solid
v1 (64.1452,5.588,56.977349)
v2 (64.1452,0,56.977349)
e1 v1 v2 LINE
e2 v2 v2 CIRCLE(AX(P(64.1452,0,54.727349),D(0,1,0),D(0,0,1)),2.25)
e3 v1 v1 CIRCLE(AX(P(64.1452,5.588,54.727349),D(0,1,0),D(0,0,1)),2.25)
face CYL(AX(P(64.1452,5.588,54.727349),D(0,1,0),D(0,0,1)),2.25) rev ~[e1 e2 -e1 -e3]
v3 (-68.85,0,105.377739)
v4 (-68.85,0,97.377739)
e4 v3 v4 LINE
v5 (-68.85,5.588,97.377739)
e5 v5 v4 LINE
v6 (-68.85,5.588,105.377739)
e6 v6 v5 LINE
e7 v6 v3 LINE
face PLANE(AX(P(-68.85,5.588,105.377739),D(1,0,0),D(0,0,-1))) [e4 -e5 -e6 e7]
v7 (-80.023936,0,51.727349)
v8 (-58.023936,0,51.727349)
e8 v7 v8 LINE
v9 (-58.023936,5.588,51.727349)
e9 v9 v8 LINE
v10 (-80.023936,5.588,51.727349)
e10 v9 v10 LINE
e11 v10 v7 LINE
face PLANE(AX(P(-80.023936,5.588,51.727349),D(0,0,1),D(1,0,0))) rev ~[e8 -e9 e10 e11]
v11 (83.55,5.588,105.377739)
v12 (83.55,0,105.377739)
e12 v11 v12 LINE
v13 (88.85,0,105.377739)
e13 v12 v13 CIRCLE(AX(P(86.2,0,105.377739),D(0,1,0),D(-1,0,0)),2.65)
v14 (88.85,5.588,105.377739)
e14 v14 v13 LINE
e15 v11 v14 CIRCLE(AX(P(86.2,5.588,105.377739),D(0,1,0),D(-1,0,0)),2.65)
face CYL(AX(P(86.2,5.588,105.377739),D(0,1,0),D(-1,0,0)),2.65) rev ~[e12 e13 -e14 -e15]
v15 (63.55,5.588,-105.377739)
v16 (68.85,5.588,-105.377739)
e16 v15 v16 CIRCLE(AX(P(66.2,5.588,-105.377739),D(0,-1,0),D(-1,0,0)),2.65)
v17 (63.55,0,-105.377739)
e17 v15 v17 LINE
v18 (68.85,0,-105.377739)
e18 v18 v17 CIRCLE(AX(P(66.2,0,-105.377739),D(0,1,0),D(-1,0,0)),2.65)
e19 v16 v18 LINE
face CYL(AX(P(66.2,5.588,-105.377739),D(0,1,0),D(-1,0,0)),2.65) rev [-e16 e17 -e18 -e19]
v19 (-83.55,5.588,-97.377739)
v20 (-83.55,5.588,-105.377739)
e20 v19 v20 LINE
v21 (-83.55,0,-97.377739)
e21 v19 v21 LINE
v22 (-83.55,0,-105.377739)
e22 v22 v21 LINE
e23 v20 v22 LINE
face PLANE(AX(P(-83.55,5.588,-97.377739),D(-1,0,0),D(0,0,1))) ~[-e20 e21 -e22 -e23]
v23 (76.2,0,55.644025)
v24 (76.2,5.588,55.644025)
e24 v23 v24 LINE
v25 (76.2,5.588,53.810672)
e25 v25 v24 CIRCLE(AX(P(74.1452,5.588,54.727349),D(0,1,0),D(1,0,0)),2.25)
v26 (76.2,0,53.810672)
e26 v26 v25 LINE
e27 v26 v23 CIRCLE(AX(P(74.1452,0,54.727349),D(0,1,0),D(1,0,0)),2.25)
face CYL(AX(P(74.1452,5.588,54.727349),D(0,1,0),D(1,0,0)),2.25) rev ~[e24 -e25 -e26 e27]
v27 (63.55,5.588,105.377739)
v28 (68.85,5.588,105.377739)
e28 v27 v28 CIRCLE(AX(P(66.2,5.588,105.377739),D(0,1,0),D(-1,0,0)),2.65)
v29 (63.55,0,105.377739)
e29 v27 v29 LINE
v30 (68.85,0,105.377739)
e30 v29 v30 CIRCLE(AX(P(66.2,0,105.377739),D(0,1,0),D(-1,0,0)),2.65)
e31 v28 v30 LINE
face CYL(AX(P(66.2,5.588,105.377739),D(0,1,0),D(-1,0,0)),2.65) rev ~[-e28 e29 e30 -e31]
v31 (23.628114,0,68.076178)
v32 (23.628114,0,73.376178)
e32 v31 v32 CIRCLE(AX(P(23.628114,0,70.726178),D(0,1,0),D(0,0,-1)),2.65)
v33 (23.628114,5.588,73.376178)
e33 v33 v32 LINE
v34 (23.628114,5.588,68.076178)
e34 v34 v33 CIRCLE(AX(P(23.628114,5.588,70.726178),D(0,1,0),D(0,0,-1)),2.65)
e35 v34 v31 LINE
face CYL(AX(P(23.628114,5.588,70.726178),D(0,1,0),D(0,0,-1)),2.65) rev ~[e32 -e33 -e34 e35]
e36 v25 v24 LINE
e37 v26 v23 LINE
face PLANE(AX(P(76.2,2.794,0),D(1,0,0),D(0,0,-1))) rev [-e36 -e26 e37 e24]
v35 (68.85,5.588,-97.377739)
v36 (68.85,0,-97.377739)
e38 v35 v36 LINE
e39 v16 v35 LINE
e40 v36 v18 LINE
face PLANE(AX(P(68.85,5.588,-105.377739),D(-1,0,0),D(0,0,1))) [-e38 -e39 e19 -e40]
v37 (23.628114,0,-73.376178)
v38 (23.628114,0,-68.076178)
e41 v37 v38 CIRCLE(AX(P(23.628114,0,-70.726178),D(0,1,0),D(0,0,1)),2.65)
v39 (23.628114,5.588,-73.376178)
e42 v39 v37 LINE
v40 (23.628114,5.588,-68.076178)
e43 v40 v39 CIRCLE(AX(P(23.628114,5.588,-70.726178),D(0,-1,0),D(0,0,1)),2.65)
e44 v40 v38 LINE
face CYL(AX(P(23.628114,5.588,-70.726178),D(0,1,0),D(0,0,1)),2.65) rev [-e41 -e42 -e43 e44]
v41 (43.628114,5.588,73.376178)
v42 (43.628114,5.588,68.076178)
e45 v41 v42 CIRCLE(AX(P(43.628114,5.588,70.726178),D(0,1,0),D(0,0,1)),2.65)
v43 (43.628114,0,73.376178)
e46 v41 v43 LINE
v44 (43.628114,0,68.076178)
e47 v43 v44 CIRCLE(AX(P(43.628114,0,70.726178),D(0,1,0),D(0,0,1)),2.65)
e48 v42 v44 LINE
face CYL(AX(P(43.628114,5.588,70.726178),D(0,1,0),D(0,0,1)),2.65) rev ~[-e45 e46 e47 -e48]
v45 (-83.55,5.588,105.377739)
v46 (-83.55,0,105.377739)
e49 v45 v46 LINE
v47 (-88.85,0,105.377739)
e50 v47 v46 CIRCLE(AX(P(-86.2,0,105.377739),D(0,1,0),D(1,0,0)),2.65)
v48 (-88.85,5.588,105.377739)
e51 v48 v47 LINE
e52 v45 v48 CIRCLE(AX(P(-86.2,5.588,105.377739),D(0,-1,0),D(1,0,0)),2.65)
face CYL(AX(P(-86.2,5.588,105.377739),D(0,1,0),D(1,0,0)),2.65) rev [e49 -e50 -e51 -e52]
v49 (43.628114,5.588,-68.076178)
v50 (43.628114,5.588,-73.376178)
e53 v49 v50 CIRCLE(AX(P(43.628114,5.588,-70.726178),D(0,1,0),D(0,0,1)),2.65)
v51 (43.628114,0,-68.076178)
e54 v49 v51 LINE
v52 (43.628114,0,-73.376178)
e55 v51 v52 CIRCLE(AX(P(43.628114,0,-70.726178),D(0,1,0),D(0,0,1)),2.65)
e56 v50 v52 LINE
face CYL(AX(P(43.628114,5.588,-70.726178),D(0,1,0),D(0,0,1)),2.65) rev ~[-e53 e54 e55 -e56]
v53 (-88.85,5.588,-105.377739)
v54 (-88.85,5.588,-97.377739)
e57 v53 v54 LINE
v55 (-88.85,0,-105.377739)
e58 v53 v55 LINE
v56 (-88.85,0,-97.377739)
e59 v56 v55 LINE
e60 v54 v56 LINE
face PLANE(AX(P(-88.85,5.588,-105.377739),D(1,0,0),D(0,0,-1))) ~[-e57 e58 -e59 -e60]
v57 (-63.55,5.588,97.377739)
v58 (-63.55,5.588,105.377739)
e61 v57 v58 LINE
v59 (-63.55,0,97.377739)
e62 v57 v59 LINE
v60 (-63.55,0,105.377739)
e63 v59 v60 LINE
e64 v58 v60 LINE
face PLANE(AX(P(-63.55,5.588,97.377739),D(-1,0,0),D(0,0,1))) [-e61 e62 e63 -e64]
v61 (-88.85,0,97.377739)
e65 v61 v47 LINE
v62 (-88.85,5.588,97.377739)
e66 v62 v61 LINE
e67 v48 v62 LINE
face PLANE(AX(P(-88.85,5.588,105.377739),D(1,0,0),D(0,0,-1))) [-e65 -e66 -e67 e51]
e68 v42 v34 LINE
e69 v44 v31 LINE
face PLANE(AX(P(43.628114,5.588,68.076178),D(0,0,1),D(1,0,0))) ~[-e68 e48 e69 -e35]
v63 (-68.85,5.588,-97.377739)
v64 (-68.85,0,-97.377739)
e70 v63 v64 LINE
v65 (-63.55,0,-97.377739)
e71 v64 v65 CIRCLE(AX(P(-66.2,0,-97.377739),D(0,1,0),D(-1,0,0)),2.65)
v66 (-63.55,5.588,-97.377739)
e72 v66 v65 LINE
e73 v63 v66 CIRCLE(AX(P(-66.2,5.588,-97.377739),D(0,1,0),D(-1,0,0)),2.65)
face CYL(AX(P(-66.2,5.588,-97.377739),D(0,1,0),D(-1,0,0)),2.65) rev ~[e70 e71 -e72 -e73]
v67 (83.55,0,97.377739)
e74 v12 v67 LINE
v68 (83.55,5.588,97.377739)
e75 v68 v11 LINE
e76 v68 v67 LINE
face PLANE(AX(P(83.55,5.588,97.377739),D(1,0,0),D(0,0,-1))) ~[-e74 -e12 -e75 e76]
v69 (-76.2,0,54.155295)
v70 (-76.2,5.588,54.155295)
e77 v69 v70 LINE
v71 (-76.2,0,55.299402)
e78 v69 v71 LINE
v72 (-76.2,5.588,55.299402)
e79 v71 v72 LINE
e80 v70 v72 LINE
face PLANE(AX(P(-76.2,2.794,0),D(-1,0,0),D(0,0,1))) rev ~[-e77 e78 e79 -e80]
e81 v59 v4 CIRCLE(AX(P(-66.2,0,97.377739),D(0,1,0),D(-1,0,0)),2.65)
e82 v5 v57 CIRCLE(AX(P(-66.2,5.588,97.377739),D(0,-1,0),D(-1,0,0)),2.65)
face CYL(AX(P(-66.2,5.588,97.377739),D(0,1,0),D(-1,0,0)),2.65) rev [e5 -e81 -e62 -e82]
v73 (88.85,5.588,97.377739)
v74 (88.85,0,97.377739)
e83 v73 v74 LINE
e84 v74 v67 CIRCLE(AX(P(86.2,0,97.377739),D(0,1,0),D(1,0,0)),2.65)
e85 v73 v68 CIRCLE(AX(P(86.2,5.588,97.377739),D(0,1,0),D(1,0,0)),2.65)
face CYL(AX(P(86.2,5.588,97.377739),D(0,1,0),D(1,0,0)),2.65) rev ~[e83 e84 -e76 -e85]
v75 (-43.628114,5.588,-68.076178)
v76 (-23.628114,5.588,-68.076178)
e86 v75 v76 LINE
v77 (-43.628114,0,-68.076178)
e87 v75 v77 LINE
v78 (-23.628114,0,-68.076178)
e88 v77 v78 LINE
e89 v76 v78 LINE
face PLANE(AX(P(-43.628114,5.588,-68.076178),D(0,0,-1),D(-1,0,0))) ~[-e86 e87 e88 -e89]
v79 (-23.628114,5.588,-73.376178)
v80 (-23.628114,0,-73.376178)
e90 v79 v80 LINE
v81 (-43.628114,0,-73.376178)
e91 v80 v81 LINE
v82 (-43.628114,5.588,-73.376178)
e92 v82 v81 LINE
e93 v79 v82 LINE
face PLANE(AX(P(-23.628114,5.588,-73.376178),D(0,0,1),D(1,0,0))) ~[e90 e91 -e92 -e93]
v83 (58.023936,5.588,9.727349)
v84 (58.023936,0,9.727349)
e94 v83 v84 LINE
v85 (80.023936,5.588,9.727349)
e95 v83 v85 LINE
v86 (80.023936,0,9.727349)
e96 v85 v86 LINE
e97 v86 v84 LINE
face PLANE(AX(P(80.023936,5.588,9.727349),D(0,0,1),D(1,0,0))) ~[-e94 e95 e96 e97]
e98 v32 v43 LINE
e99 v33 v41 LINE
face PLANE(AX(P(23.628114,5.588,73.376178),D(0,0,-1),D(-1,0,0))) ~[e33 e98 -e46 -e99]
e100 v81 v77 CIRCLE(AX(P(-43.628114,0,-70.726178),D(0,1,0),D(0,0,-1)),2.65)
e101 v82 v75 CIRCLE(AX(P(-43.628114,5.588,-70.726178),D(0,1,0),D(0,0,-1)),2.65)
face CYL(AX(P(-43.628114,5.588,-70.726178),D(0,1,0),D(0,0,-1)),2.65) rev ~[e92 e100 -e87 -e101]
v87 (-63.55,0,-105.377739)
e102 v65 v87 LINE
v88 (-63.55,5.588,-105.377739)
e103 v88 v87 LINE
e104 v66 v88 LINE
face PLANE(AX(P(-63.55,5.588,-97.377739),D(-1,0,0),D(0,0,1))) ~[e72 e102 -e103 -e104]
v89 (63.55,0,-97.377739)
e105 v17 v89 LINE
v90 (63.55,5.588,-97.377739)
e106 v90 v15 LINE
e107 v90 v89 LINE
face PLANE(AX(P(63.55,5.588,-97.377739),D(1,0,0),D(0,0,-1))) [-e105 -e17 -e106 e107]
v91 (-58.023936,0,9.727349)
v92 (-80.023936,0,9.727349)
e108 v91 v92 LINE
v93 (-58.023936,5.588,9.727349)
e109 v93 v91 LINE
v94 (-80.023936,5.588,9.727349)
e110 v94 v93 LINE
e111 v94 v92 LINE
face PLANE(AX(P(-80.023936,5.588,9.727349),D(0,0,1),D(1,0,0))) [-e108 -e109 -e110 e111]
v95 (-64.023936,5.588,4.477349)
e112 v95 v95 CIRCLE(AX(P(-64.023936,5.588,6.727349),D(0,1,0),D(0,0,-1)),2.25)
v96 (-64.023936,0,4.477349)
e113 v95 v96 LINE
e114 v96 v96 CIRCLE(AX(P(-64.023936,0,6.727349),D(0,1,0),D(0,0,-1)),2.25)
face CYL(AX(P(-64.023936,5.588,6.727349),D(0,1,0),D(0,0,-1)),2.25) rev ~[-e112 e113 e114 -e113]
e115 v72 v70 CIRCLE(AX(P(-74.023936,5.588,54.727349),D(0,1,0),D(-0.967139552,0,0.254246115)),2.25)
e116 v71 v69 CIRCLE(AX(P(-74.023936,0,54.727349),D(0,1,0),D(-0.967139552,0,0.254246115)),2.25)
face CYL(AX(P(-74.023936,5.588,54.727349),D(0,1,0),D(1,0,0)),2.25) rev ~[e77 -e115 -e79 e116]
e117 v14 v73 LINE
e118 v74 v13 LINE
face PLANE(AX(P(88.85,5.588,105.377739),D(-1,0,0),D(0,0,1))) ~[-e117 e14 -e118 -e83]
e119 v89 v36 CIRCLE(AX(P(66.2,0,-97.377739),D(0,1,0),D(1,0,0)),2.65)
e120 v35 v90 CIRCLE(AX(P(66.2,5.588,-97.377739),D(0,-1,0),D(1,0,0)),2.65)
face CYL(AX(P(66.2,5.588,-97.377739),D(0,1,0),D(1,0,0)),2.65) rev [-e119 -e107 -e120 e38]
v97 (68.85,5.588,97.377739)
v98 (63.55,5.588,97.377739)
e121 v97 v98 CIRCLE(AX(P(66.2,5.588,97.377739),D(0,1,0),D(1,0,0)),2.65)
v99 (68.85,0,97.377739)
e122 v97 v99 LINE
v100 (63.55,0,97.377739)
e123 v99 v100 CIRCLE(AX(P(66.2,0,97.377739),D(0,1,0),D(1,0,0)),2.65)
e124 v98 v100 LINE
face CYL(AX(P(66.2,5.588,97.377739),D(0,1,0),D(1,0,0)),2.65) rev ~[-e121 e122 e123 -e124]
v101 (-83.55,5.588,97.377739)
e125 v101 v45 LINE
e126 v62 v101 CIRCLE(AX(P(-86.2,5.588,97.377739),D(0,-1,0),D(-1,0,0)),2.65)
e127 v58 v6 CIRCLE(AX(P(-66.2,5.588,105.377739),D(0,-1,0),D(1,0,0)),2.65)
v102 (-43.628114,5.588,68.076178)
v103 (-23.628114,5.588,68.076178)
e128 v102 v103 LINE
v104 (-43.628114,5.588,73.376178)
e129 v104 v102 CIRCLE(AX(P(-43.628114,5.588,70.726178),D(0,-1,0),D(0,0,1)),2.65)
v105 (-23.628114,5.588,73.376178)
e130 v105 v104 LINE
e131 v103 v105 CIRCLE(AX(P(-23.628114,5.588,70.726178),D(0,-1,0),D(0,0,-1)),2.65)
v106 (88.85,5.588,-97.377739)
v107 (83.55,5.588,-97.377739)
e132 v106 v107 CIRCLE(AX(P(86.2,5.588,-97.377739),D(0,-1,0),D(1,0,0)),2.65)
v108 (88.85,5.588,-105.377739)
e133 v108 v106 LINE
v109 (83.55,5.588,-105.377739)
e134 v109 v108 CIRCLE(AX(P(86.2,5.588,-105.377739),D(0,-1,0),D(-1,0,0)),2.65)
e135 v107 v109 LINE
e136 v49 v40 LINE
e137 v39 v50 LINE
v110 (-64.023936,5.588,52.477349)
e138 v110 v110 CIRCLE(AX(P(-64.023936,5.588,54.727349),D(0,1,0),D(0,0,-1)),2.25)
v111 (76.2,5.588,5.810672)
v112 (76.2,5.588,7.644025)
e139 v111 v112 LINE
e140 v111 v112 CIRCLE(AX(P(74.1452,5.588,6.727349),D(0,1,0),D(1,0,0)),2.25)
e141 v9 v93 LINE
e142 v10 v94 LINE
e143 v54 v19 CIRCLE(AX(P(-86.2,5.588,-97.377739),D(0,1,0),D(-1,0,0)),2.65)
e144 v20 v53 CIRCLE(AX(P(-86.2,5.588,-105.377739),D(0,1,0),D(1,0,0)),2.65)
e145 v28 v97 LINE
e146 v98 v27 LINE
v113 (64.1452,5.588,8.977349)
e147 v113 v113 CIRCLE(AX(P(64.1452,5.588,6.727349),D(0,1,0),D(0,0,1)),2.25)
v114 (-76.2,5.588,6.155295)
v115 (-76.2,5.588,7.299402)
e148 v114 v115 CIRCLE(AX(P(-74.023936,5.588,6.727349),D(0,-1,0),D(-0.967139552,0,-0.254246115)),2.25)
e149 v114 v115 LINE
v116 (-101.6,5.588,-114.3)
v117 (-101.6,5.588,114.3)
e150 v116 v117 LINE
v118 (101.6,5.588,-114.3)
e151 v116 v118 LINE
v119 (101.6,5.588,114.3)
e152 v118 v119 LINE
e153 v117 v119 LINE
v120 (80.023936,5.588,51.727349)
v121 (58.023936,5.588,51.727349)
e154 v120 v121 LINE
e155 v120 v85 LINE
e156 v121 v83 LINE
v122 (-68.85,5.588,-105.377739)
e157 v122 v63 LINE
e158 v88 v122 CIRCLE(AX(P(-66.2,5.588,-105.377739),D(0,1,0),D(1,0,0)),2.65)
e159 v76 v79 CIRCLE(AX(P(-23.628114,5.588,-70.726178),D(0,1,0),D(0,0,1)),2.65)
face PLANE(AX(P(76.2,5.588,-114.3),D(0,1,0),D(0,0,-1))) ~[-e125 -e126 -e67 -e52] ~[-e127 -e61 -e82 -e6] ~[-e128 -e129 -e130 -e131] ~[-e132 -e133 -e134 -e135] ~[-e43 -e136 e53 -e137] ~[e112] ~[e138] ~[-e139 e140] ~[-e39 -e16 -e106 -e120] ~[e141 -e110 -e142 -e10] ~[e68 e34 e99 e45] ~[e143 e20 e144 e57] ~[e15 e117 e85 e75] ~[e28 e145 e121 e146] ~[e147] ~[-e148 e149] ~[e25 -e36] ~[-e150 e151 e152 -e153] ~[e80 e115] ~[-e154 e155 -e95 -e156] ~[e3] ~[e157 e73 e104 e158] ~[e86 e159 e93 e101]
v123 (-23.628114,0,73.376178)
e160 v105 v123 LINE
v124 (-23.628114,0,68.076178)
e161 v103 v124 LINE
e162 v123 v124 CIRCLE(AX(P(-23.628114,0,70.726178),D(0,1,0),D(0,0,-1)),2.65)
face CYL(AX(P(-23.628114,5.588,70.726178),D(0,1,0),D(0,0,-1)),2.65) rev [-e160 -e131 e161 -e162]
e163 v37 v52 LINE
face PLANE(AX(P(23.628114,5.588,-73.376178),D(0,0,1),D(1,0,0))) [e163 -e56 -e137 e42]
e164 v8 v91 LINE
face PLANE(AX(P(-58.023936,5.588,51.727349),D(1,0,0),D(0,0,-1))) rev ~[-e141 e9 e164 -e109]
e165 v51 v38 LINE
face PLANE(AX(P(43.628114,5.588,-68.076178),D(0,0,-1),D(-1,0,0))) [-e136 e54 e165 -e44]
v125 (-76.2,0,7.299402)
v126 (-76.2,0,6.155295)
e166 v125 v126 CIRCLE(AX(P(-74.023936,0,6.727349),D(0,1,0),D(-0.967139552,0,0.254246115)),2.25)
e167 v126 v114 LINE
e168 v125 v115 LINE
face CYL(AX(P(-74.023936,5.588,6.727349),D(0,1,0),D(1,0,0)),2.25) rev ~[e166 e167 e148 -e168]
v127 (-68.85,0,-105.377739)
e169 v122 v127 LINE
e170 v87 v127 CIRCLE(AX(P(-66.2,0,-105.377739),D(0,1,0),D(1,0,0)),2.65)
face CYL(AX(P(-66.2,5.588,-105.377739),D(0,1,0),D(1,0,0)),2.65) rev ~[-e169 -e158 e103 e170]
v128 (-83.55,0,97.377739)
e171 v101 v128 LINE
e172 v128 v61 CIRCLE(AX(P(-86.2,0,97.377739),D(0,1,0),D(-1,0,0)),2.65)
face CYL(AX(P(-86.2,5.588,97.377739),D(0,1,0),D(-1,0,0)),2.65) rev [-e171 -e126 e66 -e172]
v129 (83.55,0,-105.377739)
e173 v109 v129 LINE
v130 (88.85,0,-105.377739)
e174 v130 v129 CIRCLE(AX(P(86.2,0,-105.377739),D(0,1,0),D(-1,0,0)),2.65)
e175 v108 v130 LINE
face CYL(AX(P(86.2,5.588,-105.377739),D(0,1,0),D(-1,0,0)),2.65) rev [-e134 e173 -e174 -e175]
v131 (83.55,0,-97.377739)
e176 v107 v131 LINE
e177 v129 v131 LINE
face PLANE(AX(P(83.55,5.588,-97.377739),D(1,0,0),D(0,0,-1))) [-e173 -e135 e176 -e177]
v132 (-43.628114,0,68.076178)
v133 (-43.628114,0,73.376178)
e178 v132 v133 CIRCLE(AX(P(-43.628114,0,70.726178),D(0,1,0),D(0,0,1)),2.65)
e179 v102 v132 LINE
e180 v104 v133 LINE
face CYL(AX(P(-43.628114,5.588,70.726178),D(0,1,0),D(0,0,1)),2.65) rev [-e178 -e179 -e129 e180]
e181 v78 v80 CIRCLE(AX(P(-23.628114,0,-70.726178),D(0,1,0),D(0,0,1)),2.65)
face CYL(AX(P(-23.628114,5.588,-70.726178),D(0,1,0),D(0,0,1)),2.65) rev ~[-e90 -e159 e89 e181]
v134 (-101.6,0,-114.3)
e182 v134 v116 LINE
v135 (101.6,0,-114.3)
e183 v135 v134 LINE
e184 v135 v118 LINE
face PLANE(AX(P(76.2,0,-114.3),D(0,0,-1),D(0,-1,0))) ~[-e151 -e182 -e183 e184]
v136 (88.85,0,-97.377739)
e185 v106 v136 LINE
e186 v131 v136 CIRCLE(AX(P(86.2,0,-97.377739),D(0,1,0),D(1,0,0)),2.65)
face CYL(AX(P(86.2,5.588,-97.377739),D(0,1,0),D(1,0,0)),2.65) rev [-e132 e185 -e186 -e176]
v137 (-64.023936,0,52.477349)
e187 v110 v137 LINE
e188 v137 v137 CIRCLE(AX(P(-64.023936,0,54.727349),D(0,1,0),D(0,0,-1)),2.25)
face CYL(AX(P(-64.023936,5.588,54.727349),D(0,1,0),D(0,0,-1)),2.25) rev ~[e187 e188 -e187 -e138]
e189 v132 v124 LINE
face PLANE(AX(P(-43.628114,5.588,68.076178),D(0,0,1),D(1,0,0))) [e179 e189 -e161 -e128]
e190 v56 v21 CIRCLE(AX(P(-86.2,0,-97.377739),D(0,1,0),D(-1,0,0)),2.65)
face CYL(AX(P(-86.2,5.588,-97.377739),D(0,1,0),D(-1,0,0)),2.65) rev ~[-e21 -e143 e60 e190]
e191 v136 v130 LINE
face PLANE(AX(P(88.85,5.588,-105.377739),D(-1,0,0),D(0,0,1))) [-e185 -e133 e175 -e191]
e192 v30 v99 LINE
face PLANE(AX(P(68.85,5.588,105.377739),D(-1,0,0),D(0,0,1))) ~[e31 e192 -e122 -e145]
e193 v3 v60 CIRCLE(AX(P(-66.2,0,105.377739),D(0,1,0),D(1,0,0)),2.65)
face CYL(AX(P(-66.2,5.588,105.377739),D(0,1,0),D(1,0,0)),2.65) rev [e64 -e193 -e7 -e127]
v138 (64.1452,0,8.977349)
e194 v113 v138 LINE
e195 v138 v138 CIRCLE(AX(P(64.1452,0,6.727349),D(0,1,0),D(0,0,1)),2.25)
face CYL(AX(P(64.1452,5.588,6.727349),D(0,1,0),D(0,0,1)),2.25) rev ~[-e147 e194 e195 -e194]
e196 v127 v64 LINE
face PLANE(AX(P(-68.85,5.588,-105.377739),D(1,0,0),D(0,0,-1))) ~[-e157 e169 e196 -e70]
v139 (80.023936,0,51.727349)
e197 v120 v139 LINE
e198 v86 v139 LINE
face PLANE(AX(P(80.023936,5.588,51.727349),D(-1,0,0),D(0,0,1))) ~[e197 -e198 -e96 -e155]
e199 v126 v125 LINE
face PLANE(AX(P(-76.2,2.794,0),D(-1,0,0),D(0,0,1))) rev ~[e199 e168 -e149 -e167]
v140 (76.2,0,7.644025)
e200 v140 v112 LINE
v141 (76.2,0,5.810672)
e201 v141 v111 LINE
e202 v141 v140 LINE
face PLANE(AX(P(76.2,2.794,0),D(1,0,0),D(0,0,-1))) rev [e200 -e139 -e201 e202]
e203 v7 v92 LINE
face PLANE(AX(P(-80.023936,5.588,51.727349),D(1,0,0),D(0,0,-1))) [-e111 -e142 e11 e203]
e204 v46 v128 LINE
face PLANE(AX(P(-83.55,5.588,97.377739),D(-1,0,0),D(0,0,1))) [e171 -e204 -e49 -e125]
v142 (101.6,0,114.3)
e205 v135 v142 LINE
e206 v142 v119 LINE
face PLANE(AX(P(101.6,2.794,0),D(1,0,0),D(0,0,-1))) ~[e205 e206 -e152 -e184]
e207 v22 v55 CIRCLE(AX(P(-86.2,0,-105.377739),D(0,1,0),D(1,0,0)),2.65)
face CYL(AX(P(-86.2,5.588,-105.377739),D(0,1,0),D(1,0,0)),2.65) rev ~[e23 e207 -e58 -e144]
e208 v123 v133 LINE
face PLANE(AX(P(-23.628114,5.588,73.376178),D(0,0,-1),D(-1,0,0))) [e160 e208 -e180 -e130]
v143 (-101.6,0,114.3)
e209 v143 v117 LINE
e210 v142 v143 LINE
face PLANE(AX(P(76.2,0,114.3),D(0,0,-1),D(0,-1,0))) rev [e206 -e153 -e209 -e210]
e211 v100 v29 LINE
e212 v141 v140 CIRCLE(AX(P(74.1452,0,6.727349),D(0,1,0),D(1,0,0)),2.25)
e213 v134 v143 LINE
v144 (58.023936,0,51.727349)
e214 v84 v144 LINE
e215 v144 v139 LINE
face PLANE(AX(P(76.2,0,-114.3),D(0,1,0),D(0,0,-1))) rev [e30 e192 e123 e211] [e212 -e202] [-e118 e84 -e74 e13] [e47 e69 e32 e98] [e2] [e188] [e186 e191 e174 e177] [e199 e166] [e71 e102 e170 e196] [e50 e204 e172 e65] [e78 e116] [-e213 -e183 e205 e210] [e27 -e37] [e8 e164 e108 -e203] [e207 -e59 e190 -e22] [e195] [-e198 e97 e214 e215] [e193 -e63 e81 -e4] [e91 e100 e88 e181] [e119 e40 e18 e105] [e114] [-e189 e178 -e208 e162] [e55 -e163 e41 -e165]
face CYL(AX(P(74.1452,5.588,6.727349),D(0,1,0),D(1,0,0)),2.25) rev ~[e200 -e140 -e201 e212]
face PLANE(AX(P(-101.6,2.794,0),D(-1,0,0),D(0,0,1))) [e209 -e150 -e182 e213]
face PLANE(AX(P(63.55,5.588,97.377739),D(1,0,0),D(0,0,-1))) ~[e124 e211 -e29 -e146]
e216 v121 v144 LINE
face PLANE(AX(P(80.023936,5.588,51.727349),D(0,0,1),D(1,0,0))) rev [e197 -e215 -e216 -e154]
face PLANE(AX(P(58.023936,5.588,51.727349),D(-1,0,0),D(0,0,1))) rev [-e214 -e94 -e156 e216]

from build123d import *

# Parameters (mm, degrees)
SKETCH1_W                                = 152.4
SKETCH1_H                                = 228.6
BOSS_EXTRUDE1_DEPTH                      = 5.588
SKETCH2_R                                = 2.25
SKETCH2_W                                = 22
SKETCH2_H                                = 42
CUT_EXTRUDE1_DEPTH                       = 138.48511099
SKETCH6_R                                = 2.65
CUT_EXTRUDE2_DEPTH                       = 430.910746044
CUT_EXTRUDE3_DEPTH                       = 138.48511099
MIRROR1_AT_THE_SECOND_PLANE_COPY_1_DEPTH = 138.48511099
SKETCH8_R                                = 2.65
CUT_EXTRUDE4_DEPTH                       = 430.910746044
CUT_EXTRUDE5_DEPTH                       = 138.48511099
MIRROR2_AT_THE_SECOND_PLANE_COPY_1_DEPTH = 138.48511099
SKETCH10_W                               = 228.6
SKETCH10_H                               = 5.588
BOSS_EXTRUDE2_DEPTH                      = 25.4
SKETCH11_W                               = 22
SKETCH11_H                               = 42
CUT_EXTRUDE6_DEPTH                       = 154.030309887
CUT_EXTRUDE7_DEPTH                       = 154.030309887
MIRROR5_AT_THE_SECOND_PLANE_COPY_1_DEPTH = 154.030309887


with BuildPart() as part:
    # Sketch1 → Boss-Extrude1 (new body)
    with BuildSketch(Plane(origin=(0, 0, 0), x_dir=(1, 0, 0), z_dir=(0, 1, 0))):
        Rectangle(SKETCH1_W, SKETCH1_H)
    extrude(amount=BOSS_EXTRUDE1_DEPTH)

    # Sketch2 → Cut-Extrude1 (cut, through all)
    with BuildSketch(Plane(origin=(0, 5.588, 0), x_dir=(1, 0, 0), z_dir=(0, 1, 0))):
        with Locations(Location((64.145199836, -6.727348554, 0), (0, 0, 270))):
            Circle(SKETCH2_R)
        with Locations((74.145199836, -6.727348554)):
            Circle(SKETCH2_R)
        with Locations(Location((64.145199836, -54.727348554, 0), (0, 0, 270))):
            Circle(SKETCH2_R)
        with Locations((74.145199836, -54.727348554)):
            Circle(SKETCH2_R)
        with Locations((-74.023936008, -54.727348554)):
            Circle(SKETCH2_R)
        with Locations(Location((-64.023936008, -54.727348554, 0), (0, 0, 90))):
            Circle(SKETCH2_R)
        with Locations((-74.023936008, -6.727348554)):
            Circle(SKETCH2_R)
        with Locations(Location((-64.023936008, -6.727348554, 0), (0, 0, 90))):
            Circle(SKETCH2_R)
        with Locations((69.145199836, -30.727348554)):
            Rectangle(SKETCH2_W, SKETCH2_H)
        with Locations((-69.023936008, -30.727348554)):
            Rectangle(SKETCH2_W, SKETCH2_H)
    extrude(amount=-CUT_EXTRUDE1_DEPTH, mode=Mode.SUBTRACT)

    # Sketch6 → Cut-Extrude2 (cut, through all)
    with BuildSketch(Plane(origin=(-338.200209725, 5.588, 0), x_dir=(1, 0, 0), z_dir=(0, 1, 0))):
        with Locations(Location((404.400209725, 104.3, 0), (0, 0, 270))):
            Circle(SKETCH6_R)
    extrude(amount=-CUT_EXTRUDE2_DEPTH, mode=Mode.SUBTRACT)

    # Sketch7 → Cut-Extrude3 (cut, through all)
    with BuildSketch(Plane(origin=(0, 5.588, 0), x_dir=(1, 0, 0), z_dir=(0, 1, 0))):
        with BuildLine():
            Line((68.85, 105.377738503), (68.85, 97.377738503))
            ThreePointArc((68.85, 97.377738503), (66.2, 94.727738503), (63.55, 97.377738503))
            Line((63.55, 97.377738503), (63.55, 105.377738503))
            ThreePointArc((63.55, 105.377738503), (66.2, 108.027738503), (68.85, 105.377738503))
        make_face()
    cut_extrude3 = extrude(amount=-CUT_EXTRUDE3_DEPTH, mode=Mode.SUBTRACT)

    # Mirror1: Cut-Extrude3 across plane
    add(cut_extrude3.mirror(Plane.XY), mode=Mode.SUBTRACT)

    # Mirror1 at the second plane: Cut-Extrude3 across plane
    add(cut_extrude3.mirror(Plane(origin=(0, 0, 0), x_dir=(0, 0, 1), z_dir=(1, 0, 0))), mode=Mode.SUBTRACT)

    # Mirror1 at the second plane copy 1 sketc → Mirror1 at the second plane copy 1 (cut, through all)
    with BuildSketch(Plane(origin=(0, 5.588, 0), x_dir=(-1, 0, 0), z_dir=(0, 1, 0))):
        with BuildLine():
            Line((68.85, 105.377738503), (68.85, 97.377738503))
            ThreePointArc((68.85, 97.377738503), (66.2, 94.727738503), (63.55, 97.377738503))
            Line((63.55, 97.377738503), (63.55, 105.377738503))
            ThreePointArc((63.55, 105.377738503), (66.2, 108.027738503), (68.85, 105.377738503))
        make_face()
    extrude(amount=-MIRROR1_AT_THE_SECOND_PLANE_COPY_1_DEPTH, mode=Mode.SUBTRACT)

    # Sketch8 → Cut-Extrude4 (cut, through all)
    with BuildSketch(Plane(origin=(-338.200209725, 5.588, 0), x_dir=(1, 0, 0), z_dir=(0, 1, 0))):
        with Locations(Location((381.82832329, 70.726177663, 0), (0, 0, 270))):
            Circle(SKETCH8_R)
    extrude(amount=-CUT_EXTRUDE4_DEPTH, mode=Mode.SUBTRACT)

    # Sketch9 → Cut-Extrude5 (cut, through all)
    with BuildSketch(Plane(origin=(0, 5.588, 0), x_dir=(1, 0, 0), z_dir=(0, 1, 0))):
        with BuildLine():
            Line((43.628113565, 68.076177663), (23.628113565, 68.076177663))
            ThreePointArc((23.628113565, 68.076177663), (20.978113565, 70.726177663), (23.628113565, 73.376177663))
            Line((23.628113565, 73.376177663), (43.628113565, 73.376177663))
            ThreePointArc((43.628113565, 73.376177663), (46.278113565, 70.726177663), (43.628113565, 68.076177663))
        make_face()
    cut_extrude5 = extrude(amount=-CUT_EXTRUDE5_DEPTH, mode=Mode.SUBTRACT)

    # Mirror2: Cut-Extrude5 across plane
    add(cut_extrude5.mirror(Plane.XY), mode=Mode.SUBTRACT)

    # Mirror2 at the second plane: Cut-Extrude5 across plane
    add(cut_extrude5.mirror(Plane(origin=(0, 0, 0), x_dir=(0, 0, 1), z_dir=(1, 0, 0))), mode=Mode.SUBTRACT)

    # Mirror2 at the second plane copy 1 sketc → Mirror2 at the second plane copy 1 (cut, through all)
    with BuildSketch(Plane(origin=(0, 5.588, 0), x_dir=(-1, 0, 0), z_dir=(0, 1, 0))):
        with BuildLine():
            Line((43.628113565, 68.076177663), (23.628113565, 68.076177663))
            ThreePointArc((23.628113565, 68.076177663), (20.978113565, 70.726177663), (23.628113565, 73.376177663))
            Line((23.628113565, 73.376177663), (43.628113565, 73.376177663))
            ThreePointArc((43.628113565, 73.376177663), (46.278113565, 70.726177663), (43.628113565, 68.076177663))
        make_face()
    extrude(amount=-MIRROR2_AT_THE_SECOND_PLANE_COPY_1_DEPTH, mode=Mode.SUBTRACT)

    # Sketch10 → Boss-Extrude2 (add)
    with BuildSketch(Plane.ZY.offset(76.2)):
        with Locations((0, 2.794)):
            Rectangle(SKETCH10_W, SKETCH10_H)
    boss_extrude2 = extrude(amount=BOSS_EXTRUDE2_DEPTH)

    # Sketch11 → Cut-Extrude6 (cut, through all)
    with BuildSketch(Plane(origin=(0, 5.588, 0), x_dir=(1, 0, 0), z_dir=(0, 1, 0))):
        with Locations((-69.023936008, -30.727348554)):
            Rectangle(SKETCH11_W, SKETCH11_H)
    cut_extrude6 = extrude(amount=-CUT_EXTRUDE6_DEPTH, mode=Mode.SUBTRACT)

    # Mirror4: Boss-Extrude2, Cut-Extrude6 across plane
    add(boss_extrude2.mirror(Plane(origin=(0, 0, 0), x_dir=(0, 0, 1), z_dir=(1, 0, 0))))
    add(cut_extrude6.mirror(Plane(origin=(0, 0, 0), x_dir=(0, 0, 1), z_dir=(1, 0, 0))), mode=Mode.SUBTRACT)

    # Sketch12 → Cut-Extrude7 (cut, through all)
    with BuildSketch(Plane(origin=(0, 5.588, 0), x_dir=(1, 0, 0), z_dir=(0, 1, 0))):
        with BuildLine():
            Line((-83.55, -97.377738503), (-83.55, -105.377738503))
            ThreePointArc((-83.55, -105.377738503), (-86.2, -108.027738503), (-88.85, -105.377738503))
            Line((-88.85, -105.377738503), (-88.85, -97.377738503))
            ThreePointArc((-88.85, -97.377738503), (-86.2, -94.727738503), (-83.55, -97.377738503))
        make_face()
    cut_extrude7 = extrude(amount=-CUT_EXTRUDE7_DEPTH, mode=Mode.SUBTRACT)

    # Mirror5: Cut-Extrude7 across plane
    add(cut_extrude7.mirror(Plane(origin=(0, 0, 0), x_dir=(0, 0, 1), z_dir=(1, 0, 0))), mode=Mode.SUBTRACT)

    # Mirror5 at the second plane: Cut-Extrude7 across plane
    add(cut_extrude7.mirror(Plane.XY), mode=Mode.SUBTRACT)

    # Mirror5 at the second plane copy 1 sketc → Mirror5 at the second plane copy 1 (cut, through all)
    with BuildSketch(Plane(origin=(0, 5.588, 0), x_dir=(-1, 0, 0), z_dir=(0, 1, 0))):
        with BuildLine():
            Line((-83.55, -97.377738503), (-83.55, -105.377738503))
            ThreePointArc((-83.55, -105.377738503), (-86.2, -108.027738503), (-88.85, -105.377738503))
            Line((-88.85, -105.377738503), (-88.85, -97.377738503))
            ThreePointArc((-88.85, -97.377738503), (-86.2, -94.727738503), (-83.55, -97.377738503))
        make_face()
    extrude(amount=-MIRROR5_AT_THE_SECOND_PLANE_COPY_1_DEPTH, mode=Mode.SUBTRACT)


solid = part.part
